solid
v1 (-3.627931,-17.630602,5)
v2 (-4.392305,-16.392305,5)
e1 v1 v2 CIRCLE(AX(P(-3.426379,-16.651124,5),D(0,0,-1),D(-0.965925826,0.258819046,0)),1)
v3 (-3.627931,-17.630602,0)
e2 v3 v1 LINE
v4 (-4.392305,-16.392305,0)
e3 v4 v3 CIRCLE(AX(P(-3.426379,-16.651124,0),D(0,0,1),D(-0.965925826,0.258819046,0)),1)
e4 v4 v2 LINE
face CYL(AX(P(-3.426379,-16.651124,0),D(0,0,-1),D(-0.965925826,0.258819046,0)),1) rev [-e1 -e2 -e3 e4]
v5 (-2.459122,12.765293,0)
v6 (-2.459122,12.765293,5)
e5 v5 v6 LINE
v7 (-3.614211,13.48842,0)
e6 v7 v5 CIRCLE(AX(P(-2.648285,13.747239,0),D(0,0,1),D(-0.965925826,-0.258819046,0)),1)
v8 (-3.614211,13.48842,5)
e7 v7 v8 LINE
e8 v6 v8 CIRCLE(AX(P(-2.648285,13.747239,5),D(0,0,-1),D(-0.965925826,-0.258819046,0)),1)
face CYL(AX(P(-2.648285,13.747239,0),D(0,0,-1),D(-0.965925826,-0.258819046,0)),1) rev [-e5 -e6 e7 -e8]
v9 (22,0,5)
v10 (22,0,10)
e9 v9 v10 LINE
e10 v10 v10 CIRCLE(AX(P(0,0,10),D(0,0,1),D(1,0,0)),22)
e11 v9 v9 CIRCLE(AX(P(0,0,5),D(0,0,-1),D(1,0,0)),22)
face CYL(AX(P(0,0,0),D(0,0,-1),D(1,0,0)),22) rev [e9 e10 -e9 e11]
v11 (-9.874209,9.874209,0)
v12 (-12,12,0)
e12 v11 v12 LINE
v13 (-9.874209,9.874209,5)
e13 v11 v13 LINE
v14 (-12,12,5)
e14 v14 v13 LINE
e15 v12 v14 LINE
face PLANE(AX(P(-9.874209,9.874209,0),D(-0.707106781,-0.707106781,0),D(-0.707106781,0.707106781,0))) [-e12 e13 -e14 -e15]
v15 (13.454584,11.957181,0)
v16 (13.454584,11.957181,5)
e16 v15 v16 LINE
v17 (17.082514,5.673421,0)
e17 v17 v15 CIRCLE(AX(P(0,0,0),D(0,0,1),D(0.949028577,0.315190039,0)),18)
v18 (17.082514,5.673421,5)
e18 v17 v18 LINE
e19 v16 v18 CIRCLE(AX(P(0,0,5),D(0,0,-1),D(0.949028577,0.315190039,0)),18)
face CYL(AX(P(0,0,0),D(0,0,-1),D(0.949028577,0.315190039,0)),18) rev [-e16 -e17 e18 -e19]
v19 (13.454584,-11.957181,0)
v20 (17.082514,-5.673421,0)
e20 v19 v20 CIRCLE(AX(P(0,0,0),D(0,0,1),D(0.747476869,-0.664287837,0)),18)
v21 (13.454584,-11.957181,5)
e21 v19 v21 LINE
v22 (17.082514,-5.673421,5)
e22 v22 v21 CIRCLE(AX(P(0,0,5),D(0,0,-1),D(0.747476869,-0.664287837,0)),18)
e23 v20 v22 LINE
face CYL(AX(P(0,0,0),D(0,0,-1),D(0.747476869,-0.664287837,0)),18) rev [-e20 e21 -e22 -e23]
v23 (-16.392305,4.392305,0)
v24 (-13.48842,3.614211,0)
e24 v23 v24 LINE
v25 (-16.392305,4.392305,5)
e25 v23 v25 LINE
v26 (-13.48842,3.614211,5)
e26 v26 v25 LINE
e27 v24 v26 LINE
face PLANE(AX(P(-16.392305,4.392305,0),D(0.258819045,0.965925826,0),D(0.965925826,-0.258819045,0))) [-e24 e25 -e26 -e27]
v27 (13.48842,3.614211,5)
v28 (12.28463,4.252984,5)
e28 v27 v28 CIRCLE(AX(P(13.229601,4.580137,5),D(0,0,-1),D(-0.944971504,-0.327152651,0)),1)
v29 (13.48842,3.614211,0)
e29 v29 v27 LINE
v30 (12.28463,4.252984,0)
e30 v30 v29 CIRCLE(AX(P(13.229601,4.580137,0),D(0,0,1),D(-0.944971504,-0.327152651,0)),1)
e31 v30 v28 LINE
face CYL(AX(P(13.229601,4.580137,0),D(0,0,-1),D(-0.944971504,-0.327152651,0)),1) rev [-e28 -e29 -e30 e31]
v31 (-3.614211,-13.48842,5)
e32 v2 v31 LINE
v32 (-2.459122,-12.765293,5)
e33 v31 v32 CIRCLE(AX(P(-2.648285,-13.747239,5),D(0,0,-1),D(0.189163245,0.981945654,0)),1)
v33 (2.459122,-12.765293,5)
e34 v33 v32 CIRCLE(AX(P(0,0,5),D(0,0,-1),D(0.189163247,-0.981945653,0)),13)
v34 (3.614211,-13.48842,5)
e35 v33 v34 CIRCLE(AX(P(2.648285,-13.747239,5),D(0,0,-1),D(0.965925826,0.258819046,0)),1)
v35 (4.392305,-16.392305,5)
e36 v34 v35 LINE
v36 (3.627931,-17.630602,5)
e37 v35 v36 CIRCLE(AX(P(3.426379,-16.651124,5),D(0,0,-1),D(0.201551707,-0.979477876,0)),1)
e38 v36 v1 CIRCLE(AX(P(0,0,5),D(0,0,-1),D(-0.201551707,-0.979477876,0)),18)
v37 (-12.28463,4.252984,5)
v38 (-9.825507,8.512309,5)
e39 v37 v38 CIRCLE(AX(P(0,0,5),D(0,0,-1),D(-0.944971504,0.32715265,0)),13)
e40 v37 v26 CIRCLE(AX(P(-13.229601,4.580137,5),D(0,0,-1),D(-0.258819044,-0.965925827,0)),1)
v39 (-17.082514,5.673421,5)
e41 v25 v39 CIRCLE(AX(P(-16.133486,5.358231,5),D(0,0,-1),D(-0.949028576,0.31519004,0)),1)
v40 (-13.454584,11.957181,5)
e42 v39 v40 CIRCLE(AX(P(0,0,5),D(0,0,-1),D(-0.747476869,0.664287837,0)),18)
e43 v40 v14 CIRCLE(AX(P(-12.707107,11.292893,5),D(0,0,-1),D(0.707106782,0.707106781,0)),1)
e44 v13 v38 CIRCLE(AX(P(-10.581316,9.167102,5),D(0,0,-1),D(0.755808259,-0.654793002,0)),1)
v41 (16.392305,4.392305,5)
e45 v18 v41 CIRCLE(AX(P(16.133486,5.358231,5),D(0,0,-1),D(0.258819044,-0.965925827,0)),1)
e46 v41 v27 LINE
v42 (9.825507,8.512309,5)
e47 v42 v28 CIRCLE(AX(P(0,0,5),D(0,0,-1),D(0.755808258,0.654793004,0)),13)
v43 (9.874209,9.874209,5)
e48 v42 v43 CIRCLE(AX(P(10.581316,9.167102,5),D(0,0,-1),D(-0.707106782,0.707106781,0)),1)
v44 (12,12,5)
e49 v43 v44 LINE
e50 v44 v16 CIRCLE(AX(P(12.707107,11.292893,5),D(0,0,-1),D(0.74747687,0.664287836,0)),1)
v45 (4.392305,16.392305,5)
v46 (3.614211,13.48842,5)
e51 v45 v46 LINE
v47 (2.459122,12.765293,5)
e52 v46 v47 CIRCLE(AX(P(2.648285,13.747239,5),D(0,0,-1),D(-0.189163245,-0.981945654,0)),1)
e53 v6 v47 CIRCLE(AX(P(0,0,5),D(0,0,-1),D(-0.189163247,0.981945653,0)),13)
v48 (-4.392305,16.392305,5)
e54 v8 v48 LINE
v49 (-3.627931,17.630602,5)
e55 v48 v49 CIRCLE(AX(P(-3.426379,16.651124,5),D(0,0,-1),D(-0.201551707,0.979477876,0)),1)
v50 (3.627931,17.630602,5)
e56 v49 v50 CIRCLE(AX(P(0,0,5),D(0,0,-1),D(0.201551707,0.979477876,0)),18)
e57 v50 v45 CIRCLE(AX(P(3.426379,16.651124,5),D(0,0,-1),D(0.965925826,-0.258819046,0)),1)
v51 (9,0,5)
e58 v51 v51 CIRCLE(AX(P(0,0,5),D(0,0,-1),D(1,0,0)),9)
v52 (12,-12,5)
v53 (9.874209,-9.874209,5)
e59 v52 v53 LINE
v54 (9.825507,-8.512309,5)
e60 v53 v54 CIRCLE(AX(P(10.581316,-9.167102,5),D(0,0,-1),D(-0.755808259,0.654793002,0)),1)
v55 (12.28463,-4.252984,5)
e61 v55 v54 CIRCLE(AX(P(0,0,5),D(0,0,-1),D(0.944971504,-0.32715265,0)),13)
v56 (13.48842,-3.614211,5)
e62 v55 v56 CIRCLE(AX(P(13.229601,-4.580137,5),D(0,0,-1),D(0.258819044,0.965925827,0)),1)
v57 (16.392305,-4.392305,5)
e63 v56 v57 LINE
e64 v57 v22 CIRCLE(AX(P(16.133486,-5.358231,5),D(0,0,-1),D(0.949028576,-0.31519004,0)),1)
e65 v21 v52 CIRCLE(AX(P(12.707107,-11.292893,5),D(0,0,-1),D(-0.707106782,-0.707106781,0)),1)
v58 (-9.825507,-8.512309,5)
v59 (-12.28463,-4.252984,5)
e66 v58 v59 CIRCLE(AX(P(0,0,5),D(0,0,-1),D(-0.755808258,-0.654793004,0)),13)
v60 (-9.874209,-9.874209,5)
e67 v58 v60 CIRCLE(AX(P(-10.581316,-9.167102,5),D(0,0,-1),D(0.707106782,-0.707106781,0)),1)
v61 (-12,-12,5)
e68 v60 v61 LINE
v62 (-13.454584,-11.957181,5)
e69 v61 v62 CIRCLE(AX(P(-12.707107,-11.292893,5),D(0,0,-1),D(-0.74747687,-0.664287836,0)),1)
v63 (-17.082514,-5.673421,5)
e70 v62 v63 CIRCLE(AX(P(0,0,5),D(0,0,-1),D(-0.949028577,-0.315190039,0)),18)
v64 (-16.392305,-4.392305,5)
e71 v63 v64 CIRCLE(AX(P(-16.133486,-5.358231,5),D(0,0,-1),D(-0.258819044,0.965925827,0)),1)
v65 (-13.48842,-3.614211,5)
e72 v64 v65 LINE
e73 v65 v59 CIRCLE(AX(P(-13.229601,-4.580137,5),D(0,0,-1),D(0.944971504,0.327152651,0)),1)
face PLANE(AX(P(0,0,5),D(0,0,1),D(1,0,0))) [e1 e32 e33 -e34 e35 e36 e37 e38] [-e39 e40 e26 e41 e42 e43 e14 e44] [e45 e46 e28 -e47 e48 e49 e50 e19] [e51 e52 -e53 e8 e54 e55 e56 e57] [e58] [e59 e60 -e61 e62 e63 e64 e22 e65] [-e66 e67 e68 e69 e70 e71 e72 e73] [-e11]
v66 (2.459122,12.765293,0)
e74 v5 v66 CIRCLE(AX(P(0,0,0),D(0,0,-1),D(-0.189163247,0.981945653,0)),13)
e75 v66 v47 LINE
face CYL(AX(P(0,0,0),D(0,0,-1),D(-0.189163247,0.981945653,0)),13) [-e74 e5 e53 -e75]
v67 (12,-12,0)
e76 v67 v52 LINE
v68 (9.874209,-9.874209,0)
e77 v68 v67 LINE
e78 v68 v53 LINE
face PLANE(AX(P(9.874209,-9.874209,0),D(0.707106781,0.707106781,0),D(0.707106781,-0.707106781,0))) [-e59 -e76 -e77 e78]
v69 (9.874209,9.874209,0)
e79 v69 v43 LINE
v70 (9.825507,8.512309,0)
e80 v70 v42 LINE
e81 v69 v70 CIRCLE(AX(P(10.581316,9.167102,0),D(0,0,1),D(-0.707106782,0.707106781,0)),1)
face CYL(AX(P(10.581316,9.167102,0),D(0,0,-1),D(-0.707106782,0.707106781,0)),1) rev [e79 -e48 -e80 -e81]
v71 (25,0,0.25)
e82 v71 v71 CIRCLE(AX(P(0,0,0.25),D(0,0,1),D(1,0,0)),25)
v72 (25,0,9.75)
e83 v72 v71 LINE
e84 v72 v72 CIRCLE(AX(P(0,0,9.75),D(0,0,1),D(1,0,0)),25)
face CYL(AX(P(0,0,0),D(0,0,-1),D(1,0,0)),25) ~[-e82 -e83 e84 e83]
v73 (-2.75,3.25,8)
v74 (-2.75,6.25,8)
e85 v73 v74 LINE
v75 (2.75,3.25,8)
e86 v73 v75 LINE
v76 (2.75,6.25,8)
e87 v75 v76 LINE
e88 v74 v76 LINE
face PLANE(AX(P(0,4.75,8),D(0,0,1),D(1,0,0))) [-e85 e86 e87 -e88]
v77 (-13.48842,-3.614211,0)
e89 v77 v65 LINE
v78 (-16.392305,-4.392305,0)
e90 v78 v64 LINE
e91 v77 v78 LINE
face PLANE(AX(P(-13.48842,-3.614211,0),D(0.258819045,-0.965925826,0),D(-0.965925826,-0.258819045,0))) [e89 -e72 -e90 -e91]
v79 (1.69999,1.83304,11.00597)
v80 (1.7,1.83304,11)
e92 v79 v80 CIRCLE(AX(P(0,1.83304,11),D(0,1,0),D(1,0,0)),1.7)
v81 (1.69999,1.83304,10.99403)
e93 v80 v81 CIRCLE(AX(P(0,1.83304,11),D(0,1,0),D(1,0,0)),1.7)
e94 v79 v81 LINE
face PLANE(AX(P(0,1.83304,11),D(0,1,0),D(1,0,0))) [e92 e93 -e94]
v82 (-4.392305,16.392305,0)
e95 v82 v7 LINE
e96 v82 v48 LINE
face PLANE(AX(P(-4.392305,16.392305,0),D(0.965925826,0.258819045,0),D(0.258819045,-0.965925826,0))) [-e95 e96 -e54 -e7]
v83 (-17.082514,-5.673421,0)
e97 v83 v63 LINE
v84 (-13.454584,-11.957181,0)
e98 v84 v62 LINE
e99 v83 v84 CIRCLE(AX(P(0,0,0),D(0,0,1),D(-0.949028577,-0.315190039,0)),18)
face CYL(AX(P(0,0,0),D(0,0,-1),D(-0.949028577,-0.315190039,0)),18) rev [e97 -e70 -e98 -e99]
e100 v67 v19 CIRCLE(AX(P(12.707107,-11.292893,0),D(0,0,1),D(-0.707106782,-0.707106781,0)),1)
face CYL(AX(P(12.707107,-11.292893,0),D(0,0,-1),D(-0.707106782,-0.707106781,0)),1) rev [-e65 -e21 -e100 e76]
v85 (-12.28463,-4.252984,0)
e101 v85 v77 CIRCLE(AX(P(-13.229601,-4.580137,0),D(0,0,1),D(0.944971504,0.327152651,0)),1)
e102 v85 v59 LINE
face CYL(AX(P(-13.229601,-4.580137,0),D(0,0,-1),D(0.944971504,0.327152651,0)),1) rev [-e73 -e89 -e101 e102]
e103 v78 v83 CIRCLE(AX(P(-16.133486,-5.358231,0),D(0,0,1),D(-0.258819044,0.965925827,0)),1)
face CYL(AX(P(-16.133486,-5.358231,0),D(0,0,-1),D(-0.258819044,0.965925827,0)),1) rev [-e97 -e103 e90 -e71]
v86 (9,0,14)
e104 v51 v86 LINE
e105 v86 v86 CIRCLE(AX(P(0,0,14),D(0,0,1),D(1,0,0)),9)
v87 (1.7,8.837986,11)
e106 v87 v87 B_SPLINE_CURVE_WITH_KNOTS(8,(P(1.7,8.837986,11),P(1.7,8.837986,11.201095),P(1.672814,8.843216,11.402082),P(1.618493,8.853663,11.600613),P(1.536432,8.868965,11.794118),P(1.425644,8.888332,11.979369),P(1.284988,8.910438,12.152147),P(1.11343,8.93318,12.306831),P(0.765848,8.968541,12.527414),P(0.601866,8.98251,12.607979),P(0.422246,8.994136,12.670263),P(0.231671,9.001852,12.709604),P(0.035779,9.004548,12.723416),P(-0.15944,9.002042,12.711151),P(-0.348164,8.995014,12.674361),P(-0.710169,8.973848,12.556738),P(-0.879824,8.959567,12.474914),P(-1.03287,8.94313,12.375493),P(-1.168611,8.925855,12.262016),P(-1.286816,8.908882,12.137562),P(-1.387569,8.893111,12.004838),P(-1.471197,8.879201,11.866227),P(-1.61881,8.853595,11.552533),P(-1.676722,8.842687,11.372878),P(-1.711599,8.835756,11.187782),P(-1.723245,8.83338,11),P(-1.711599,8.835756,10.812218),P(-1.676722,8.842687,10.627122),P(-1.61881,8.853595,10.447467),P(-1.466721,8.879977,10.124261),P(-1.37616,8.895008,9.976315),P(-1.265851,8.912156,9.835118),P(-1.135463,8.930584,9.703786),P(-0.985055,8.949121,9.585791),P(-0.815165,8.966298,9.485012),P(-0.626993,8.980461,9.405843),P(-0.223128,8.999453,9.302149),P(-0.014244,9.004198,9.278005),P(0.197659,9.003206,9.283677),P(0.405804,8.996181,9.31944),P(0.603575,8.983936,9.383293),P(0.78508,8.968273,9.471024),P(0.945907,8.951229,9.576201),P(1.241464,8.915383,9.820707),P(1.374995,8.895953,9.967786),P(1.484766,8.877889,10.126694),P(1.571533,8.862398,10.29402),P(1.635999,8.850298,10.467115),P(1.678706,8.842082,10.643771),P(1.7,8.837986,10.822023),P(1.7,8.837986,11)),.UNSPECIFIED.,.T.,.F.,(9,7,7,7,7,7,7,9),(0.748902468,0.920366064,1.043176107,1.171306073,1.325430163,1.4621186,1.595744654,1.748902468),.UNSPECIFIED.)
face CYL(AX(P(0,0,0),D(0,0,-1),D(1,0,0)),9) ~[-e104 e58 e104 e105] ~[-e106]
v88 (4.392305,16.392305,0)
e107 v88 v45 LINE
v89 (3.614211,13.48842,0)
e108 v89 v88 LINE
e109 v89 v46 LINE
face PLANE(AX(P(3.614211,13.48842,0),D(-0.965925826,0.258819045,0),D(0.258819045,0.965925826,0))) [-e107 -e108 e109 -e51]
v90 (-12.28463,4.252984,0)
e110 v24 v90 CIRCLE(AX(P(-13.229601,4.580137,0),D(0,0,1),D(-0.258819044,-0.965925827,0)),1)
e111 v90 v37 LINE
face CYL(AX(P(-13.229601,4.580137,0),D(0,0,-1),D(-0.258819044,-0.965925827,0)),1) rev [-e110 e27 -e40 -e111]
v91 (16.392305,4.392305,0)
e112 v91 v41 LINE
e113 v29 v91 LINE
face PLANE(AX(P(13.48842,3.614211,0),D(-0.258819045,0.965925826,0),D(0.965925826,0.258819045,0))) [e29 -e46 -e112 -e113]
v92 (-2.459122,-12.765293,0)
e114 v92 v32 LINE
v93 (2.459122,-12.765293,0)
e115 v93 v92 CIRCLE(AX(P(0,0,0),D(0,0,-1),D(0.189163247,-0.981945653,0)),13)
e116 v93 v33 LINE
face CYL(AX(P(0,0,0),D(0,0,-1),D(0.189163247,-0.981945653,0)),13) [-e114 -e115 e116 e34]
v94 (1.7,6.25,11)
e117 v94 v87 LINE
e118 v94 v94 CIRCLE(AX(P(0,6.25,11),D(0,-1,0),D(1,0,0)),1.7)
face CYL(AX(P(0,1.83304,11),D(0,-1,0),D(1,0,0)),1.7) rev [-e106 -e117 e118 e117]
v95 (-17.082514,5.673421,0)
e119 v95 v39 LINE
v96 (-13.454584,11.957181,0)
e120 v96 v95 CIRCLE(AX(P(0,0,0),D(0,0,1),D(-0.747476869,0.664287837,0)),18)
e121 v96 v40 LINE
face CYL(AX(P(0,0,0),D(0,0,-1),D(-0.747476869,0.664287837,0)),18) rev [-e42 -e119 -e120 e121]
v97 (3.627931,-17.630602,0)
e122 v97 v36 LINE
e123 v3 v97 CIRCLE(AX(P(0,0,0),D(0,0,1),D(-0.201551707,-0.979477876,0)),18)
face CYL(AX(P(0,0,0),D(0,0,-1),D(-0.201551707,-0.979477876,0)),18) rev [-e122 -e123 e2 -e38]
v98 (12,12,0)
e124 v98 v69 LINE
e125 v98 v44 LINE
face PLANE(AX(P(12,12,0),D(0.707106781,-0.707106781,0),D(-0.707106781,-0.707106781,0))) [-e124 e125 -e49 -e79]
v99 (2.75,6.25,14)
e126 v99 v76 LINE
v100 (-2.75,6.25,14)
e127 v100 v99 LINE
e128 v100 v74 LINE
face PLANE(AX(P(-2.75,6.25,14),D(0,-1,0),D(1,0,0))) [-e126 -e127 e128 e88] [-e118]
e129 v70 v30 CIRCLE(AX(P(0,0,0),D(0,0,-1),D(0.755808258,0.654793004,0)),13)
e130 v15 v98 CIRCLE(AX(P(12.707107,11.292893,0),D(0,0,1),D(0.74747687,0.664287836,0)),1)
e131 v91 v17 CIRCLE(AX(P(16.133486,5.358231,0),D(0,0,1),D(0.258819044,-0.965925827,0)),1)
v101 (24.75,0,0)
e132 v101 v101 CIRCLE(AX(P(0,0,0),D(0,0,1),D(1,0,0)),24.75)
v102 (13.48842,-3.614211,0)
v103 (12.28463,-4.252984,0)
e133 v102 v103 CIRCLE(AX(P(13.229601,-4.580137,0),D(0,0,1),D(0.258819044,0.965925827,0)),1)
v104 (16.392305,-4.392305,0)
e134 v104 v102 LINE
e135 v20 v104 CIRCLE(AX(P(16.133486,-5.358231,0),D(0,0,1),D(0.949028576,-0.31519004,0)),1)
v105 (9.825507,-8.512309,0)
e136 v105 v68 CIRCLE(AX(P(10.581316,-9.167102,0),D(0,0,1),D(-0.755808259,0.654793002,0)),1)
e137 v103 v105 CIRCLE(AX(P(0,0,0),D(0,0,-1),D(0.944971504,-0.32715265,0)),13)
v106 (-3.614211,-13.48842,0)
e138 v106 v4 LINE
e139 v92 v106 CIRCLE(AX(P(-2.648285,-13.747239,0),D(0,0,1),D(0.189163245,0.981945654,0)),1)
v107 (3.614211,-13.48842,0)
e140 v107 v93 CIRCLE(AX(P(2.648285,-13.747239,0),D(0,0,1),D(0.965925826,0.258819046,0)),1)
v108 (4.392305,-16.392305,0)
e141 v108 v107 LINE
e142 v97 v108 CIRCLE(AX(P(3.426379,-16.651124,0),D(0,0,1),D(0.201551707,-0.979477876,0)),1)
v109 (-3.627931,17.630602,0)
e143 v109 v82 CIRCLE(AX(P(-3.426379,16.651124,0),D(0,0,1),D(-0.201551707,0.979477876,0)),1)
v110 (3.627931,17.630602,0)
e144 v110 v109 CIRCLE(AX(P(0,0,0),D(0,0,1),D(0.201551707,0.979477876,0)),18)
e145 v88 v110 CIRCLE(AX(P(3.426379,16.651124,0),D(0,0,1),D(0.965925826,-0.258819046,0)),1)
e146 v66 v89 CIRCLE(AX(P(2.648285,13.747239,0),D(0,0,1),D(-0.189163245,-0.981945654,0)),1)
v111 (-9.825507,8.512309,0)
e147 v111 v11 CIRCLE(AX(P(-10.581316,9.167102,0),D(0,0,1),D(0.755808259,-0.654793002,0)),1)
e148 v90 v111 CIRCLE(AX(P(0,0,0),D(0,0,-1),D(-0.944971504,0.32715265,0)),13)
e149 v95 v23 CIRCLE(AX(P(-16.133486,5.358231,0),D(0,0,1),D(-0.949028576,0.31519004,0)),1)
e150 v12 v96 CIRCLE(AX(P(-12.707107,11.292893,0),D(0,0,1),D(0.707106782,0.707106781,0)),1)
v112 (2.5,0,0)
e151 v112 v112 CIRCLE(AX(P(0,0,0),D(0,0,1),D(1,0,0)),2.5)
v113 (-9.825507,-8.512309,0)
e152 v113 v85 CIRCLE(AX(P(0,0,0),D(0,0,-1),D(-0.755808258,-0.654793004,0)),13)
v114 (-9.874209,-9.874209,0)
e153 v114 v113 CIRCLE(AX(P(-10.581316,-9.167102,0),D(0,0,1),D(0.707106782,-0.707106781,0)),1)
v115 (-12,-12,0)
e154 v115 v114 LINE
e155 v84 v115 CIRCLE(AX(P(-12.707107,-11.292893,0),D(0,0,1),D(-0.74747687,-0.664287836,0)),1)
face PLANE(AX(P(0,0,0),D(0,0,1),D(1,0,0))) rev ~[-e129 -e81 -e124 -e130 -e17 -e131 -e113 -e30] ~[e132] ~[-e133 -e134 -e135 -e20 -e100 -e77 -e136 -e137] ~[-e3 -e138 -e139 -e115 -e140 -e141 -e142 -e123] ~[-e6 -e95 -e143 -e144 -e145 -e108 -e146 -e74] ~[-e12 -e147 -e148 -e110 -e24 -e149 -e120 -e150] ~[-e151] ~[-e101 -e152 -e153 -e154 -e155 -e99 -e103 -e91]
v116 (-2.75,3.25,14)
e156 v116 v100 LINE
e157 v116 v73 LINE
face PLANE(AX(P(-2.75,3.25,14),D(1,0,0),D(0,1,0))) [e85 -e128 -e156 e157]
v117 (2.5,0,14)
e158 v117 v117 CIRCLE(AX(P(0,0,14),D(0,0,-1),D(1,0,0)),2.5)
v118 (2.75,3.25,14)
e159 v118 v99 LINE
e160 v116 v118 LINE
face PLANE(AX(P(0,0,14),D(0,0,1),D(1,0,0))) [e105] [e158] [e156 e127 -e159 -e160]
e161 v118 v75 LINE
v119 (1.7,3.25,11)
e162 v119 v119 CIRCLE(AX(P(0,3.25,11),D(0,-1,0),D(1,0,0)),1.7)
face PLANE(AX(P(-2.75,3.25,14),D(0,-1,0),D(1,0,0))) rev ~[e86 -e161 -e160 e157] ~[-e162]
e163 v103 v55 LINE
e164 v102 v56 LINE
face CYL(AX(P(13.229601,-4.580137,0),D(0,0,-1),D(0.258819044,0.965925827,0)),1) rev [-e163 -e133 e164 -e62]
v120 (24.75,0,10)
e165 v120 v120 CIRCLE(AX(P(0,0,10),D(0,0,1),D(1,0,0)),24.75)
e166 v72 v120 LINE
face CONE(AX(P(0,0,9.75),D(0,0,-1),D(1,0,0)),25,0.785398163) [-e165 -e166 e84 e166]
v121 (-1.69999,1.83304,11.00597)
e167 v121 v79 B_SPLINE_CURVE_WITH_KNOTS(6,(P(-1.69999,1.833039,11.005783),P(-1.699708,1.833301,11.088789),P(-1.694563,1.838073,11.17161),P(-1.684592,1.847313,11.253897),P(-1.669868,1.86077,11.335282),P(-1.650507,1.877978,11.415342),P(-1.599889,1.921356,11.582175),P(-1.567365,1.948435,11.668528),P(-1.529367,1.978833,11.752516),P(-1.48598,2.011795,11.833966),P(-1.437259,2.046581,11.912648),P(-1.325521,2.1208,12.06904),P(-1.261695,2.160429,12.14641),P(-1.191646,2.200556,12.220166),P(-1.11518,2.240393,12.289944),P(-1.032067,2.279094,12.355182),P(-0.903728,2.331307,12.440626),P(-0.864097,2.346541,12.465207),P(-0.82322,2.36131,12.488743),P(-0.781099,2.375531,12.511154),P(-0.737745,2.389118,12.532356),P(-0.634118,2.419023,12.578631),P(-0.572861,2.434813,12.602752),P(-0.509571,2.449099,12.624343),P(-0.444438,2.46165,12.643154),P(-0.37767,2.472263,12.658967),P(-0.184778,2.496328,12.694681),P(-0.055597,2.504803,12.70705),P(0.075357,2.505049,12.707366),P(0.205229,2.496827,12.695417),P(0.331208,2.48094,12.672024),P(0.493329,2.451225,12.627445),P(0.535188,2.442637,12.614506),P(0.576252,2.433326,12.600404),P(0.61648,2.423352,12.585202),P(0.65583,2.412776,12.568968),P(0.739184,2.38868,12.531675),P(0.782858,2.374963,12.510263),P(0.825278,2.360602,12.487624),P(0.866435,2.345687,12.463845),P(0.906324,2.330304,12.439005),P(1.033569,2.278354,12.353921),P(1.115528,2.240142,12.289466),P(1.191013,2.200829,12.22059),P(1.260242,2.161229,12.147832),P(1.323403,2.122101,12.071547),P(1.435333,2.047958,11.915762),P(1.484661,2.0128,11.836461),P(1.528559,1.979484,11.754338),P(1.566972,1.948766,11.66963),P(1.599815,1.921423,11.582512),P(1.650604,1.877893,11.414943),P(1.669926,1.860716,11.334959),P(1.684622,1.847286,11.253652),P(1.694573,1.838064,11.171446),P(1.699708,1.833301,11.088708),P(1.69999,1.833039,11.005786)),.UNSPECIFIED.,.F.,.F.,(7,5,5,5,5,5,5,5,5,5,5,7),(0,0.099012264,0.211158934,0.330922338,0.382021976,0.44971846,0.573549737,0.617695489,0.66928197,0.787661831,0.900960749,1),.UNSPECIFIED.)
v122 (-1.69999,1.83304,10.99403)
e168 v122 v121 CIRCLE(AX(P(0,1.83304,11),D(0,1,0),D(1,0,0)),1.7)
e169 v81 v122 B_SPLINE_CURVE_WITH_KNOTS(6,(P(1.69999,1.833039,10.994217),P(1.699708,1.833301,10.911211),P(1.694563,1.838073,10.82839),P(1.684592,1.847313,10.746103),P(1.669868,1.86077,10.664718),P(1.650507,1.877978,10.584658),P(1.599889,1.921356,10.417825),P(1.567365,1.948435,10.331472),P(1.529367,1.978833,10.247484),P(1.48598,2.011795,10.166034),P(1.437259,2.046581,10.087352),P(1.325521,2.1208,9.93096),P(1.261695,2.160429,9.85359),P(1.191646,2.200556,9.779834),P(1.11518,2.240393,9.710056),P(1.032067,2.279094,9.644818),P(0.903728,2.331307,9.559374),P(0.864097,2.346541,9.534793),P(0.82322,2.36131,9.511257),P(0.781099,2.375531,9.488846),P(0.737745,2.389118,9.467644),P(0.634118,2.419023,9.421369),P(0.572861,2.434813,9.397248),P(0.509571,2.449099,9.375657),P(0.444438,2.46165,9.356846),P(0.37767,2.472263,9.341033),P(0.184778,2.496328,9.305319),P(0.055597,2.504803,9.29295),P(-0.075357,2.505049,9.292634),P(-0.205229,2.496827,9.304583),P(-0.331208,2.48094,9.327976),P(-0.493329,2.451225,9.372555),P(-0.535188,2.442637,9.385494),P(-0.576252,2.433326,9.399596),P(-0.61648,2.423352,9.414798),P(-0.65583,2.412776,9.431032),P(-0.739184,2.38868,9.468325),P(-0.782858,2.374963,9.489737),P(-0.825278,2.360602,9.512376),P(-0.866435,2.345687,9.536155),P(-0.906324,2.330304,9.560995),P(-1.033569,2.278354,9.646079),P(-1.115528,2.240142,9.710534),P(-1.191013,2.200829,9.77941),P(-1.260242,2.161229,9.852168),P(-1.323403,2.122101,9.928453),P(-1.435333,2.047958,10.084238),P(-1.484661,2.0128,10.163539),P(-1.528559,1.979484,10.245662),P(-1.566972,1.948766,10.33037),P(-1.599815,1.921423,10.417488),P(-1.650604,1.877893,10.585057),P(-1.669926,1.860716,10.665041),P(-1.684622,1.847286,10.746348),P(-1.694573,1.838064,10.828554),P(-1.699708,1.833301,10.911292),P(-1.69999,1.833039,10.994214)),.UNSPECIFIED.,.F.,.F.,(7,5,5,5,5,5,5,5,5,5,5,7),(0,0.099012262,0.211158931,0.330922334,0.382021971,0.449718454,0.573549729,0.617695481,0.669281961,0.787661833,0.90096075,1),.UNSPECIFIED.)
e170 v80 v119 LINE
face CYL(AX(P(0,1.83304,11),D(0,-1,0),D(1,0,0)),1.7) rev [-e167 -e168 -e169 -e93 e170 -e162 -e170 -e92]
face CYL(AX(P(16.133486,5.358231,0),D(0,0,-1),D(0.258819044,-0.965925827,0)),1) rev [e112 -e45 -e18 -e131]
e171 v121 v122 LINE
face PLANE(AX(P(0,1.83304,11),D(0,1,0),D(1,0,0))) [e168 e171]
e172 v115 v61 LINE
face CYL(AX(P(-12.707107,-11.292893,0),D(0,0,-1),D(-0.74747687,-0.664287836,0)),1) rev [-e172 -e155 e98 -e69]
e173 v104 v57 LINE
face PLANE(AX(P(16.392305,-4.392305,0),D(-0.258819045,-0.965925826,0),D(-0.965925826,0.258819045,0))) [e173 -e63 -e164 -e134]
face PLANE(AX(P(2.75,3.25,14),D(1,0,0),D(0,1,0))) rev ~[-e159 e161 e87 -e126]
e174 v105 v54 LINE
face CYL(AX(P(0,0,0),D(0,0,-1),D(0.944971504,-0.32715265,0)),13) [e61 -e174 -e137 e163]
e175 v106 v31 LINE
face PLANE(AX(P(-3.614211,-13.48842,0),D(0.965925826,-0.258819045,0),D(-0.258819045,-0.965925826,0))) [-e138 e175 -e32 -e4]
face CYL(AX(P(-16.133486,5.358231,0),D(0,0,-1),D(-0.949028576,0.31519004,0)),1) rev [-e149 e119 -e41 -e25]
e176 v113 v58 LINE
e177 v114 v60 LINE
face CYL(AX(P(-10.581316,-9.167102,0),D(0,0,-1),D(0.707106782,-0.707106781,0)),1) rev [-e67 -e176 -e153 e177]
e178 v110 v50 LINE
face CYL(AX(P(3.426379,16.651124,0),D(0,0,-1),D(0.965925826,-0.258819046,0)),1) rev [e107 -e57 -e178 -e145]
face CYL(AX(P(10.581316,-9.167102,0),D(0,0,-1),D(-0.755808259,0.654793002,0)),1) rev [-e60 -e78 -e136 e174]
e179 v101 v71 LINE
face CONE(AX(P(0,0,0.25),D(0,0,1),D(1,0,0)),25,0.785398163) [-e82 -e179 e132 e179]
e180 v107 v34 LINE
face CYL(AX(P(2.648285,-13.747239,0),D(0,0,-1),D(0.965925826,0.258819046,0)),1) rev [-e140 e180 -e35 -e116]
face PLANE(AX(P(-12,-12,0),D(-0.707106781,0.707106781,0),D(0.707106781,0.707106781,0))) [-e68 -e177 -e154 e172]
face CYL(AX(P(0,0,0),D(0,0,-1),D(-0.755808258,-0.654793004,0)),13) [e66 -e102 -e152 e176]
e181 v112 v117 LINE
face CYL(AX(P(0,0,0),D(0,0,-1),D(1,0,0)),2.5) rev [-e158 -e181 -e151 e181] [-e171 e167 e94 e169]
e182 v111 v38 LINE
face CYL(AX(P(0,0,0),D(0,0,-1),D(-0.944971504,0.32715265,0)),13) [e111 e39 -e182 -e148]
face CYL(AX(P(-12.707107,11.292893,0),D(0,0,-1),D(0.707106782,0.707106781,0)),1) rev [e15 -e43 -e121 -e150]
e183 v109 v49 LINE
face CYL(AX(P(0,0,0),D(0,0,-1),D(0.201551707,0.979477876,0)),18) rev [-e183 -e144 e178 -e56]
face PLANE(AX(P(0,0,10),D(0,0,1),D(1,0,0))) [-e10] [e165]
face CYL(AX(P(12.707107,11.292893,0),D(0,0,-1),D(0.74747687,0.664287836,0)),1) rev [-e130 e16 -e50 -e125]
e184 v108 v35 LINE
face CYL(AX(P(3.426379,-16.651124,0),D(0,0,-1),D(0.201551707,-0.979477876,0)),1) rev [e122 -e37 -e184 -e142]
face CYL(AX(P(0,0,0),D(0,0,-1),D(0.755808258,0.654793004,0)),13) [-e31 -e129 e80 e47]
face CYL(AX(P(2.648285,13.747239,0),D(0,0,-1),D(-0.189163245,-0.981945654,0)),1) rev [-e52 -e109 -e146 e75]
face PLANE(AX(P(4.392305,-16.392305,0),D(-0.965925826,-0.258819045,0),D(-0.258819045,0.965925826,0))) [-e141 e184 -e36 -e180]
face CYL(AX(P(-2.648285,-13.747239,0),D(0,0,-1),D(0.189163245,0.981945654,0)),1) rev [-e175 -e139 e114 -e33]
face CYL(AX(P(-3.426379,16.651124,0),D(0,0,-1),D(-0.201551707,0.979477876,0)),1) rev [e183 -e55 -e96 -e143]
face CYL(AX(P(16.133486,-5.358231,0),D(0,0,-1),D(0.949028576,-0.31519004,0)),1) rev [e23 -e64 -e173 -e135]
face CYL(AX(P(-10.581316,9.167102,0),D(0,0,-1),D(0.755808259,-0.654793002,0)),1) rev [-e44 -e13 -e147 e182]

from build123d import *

# Parameters (mm, degrees)
SKETCH1_R           = 25
BOSS_EXTRUDE1_DEPTH = 5
SKETCH3_R           = 25
SKETCH3_R_2         = 22
BOSS_EXTRUDE3_DEPTH = 10
SKETCH4_R           = 9
BOSS_EXTRUDE4_DEPTH = 14
SKETCH5_R           = 2.5
CUT_EXTRUDE1_DEPTH  = 15
SKETCH6_W           = 5.5
SKETCH6_H           = 3
CUT_EXTRUDE2_DEPTH  = 6
CUT_EXTRUDE3_START  = 1.83304
SKETCH7_R           = 1.7
CUT_EXTRUDE3_DEPTH  = 7.16696
CUT_EXTRUDE4_DEPTH  = 15.0000001
CIRPATTERN1_COUNT   = 6
CHAMFER1_SIZE       = 0.25


with BuildPart() as part:
    # Sketch1 → Boss-Extrude1 (new body)
    with BuildSketch(Plane.XY):
        Circle(SKETCH1_R)
    extrude(amount=BOSS_EXTRUDE1_DEPTH)

    # Sketch3 → Boss-Extrude3 (add)
    with BuildSketch(Plane.XY):
        Circle(SKETCH3_R)
        Circle(SKETCH3_R_2, mode=Mode.SUBTRACT)
    extrude(amount=BOSS_EXTRUDE3_DEPTH)

    # Sketch4 → Boss-Extrude4 (add)
    with BuildSketch(Plane.XY):
        Circle(SKETCH4_R)
    extrude(amount=BOSS_EXTRUDE4_DEPTH)

    # Sketch5 → Cut-Extrude1 (cut, through all)
    with BuildSketch(Plane.XY):
        Circle(SKETCH5_R)
    extrude(amount=CUT_EXTRUDE1_DEPTH, mode=Mode.SUBTRACT)

    # Sketch6 → Cut-Extrude2 (cut)
    with BuildSketch(Plane.XY.offset(14)):
        with Locations((0, 4.75)):
            Rectangle(SKETCH6_W, SKETCH6_H)
    extrude(amount=-CUT_EXTRUDE2_DEPTH, mode=Mode.SUBTRACT)

    # Sketch7 → Cut-Extrude3 (cut)
    with BuildSketch(Plane(origin=(0, 0, 0), x_dir=(1, 0, 0), z_dir=(0, 1, 0)).offset(CUT_EXTRUDE3_START)):
        with Locations((0, -11)):
            Circle(SKETCH7_R)
    extrude(amount=CUT_EXTRUDE3_DEPTH, mode=Mode.SUBTRACT)

    # Sketch8 → Cut-Extrude4 (cut, through all)
    with BuildSketch(Plane.XY):
        with BuildLine():
            Line((-4.392304845, 16.392304845), (-3.614211274, 13.488420103))
            ThreePointArc((-3.614211274, 13.488420103), (-3.178915308, 12.899635496), (-2.459122201, 12.765293494))
            ThreePointArc((-2.459122201, 12.765293494), (0, 13), (2.459122201, 12.765293494))
            ThreePointArc((2.459122201, 12.765293494), (3.178915308, 12.899635496), (3.614211274, 13.488420103))
            Line((3.614211274, 13.488420103), (4.392304845, 16.392304845))
            ThreePointArc((4.392304845, 16.392304845), (4.277317186, 17.176389762), (3.627930726, 17.630601766))
            ThreePointArc((3.627930726, 17.630601766), (0, 18), (-3.627930726, 17.630601766))
            ThreePointArc((-3.627930726, 17.630601766), (-4.277317186, 17.176389762), (-4.392304845, 16.392304845))
        make_face()
    cut_extrude4 = extrude(amount=CUT_EXTRUDE4_DEPTH, mode=Mode.SUBTRACT)

    # CirPattern1: Cut-Extrude4 ×6 about axis
    cirpattern1_axis = Axis((0, 0, 0), (0, 0, 1))
    for i in range(1, CIRPATTERN1_COUNT):
        add(cut_extrude4.rotate(cirpattern1_axis, i * 360 / CIRPATTERN1_COUNT), mode=Mode.SUBTRACT)

    # Chamfer1
    chamfer1_edges = [part.edges().sort_by_distance(p)[0] for p in [
        (-25, 0, 0),
        (-25, 0, 10),
    ]]
    chamfer(chamfer1_edges, length=CHAMFER1_SIZE)


solid = part.part
